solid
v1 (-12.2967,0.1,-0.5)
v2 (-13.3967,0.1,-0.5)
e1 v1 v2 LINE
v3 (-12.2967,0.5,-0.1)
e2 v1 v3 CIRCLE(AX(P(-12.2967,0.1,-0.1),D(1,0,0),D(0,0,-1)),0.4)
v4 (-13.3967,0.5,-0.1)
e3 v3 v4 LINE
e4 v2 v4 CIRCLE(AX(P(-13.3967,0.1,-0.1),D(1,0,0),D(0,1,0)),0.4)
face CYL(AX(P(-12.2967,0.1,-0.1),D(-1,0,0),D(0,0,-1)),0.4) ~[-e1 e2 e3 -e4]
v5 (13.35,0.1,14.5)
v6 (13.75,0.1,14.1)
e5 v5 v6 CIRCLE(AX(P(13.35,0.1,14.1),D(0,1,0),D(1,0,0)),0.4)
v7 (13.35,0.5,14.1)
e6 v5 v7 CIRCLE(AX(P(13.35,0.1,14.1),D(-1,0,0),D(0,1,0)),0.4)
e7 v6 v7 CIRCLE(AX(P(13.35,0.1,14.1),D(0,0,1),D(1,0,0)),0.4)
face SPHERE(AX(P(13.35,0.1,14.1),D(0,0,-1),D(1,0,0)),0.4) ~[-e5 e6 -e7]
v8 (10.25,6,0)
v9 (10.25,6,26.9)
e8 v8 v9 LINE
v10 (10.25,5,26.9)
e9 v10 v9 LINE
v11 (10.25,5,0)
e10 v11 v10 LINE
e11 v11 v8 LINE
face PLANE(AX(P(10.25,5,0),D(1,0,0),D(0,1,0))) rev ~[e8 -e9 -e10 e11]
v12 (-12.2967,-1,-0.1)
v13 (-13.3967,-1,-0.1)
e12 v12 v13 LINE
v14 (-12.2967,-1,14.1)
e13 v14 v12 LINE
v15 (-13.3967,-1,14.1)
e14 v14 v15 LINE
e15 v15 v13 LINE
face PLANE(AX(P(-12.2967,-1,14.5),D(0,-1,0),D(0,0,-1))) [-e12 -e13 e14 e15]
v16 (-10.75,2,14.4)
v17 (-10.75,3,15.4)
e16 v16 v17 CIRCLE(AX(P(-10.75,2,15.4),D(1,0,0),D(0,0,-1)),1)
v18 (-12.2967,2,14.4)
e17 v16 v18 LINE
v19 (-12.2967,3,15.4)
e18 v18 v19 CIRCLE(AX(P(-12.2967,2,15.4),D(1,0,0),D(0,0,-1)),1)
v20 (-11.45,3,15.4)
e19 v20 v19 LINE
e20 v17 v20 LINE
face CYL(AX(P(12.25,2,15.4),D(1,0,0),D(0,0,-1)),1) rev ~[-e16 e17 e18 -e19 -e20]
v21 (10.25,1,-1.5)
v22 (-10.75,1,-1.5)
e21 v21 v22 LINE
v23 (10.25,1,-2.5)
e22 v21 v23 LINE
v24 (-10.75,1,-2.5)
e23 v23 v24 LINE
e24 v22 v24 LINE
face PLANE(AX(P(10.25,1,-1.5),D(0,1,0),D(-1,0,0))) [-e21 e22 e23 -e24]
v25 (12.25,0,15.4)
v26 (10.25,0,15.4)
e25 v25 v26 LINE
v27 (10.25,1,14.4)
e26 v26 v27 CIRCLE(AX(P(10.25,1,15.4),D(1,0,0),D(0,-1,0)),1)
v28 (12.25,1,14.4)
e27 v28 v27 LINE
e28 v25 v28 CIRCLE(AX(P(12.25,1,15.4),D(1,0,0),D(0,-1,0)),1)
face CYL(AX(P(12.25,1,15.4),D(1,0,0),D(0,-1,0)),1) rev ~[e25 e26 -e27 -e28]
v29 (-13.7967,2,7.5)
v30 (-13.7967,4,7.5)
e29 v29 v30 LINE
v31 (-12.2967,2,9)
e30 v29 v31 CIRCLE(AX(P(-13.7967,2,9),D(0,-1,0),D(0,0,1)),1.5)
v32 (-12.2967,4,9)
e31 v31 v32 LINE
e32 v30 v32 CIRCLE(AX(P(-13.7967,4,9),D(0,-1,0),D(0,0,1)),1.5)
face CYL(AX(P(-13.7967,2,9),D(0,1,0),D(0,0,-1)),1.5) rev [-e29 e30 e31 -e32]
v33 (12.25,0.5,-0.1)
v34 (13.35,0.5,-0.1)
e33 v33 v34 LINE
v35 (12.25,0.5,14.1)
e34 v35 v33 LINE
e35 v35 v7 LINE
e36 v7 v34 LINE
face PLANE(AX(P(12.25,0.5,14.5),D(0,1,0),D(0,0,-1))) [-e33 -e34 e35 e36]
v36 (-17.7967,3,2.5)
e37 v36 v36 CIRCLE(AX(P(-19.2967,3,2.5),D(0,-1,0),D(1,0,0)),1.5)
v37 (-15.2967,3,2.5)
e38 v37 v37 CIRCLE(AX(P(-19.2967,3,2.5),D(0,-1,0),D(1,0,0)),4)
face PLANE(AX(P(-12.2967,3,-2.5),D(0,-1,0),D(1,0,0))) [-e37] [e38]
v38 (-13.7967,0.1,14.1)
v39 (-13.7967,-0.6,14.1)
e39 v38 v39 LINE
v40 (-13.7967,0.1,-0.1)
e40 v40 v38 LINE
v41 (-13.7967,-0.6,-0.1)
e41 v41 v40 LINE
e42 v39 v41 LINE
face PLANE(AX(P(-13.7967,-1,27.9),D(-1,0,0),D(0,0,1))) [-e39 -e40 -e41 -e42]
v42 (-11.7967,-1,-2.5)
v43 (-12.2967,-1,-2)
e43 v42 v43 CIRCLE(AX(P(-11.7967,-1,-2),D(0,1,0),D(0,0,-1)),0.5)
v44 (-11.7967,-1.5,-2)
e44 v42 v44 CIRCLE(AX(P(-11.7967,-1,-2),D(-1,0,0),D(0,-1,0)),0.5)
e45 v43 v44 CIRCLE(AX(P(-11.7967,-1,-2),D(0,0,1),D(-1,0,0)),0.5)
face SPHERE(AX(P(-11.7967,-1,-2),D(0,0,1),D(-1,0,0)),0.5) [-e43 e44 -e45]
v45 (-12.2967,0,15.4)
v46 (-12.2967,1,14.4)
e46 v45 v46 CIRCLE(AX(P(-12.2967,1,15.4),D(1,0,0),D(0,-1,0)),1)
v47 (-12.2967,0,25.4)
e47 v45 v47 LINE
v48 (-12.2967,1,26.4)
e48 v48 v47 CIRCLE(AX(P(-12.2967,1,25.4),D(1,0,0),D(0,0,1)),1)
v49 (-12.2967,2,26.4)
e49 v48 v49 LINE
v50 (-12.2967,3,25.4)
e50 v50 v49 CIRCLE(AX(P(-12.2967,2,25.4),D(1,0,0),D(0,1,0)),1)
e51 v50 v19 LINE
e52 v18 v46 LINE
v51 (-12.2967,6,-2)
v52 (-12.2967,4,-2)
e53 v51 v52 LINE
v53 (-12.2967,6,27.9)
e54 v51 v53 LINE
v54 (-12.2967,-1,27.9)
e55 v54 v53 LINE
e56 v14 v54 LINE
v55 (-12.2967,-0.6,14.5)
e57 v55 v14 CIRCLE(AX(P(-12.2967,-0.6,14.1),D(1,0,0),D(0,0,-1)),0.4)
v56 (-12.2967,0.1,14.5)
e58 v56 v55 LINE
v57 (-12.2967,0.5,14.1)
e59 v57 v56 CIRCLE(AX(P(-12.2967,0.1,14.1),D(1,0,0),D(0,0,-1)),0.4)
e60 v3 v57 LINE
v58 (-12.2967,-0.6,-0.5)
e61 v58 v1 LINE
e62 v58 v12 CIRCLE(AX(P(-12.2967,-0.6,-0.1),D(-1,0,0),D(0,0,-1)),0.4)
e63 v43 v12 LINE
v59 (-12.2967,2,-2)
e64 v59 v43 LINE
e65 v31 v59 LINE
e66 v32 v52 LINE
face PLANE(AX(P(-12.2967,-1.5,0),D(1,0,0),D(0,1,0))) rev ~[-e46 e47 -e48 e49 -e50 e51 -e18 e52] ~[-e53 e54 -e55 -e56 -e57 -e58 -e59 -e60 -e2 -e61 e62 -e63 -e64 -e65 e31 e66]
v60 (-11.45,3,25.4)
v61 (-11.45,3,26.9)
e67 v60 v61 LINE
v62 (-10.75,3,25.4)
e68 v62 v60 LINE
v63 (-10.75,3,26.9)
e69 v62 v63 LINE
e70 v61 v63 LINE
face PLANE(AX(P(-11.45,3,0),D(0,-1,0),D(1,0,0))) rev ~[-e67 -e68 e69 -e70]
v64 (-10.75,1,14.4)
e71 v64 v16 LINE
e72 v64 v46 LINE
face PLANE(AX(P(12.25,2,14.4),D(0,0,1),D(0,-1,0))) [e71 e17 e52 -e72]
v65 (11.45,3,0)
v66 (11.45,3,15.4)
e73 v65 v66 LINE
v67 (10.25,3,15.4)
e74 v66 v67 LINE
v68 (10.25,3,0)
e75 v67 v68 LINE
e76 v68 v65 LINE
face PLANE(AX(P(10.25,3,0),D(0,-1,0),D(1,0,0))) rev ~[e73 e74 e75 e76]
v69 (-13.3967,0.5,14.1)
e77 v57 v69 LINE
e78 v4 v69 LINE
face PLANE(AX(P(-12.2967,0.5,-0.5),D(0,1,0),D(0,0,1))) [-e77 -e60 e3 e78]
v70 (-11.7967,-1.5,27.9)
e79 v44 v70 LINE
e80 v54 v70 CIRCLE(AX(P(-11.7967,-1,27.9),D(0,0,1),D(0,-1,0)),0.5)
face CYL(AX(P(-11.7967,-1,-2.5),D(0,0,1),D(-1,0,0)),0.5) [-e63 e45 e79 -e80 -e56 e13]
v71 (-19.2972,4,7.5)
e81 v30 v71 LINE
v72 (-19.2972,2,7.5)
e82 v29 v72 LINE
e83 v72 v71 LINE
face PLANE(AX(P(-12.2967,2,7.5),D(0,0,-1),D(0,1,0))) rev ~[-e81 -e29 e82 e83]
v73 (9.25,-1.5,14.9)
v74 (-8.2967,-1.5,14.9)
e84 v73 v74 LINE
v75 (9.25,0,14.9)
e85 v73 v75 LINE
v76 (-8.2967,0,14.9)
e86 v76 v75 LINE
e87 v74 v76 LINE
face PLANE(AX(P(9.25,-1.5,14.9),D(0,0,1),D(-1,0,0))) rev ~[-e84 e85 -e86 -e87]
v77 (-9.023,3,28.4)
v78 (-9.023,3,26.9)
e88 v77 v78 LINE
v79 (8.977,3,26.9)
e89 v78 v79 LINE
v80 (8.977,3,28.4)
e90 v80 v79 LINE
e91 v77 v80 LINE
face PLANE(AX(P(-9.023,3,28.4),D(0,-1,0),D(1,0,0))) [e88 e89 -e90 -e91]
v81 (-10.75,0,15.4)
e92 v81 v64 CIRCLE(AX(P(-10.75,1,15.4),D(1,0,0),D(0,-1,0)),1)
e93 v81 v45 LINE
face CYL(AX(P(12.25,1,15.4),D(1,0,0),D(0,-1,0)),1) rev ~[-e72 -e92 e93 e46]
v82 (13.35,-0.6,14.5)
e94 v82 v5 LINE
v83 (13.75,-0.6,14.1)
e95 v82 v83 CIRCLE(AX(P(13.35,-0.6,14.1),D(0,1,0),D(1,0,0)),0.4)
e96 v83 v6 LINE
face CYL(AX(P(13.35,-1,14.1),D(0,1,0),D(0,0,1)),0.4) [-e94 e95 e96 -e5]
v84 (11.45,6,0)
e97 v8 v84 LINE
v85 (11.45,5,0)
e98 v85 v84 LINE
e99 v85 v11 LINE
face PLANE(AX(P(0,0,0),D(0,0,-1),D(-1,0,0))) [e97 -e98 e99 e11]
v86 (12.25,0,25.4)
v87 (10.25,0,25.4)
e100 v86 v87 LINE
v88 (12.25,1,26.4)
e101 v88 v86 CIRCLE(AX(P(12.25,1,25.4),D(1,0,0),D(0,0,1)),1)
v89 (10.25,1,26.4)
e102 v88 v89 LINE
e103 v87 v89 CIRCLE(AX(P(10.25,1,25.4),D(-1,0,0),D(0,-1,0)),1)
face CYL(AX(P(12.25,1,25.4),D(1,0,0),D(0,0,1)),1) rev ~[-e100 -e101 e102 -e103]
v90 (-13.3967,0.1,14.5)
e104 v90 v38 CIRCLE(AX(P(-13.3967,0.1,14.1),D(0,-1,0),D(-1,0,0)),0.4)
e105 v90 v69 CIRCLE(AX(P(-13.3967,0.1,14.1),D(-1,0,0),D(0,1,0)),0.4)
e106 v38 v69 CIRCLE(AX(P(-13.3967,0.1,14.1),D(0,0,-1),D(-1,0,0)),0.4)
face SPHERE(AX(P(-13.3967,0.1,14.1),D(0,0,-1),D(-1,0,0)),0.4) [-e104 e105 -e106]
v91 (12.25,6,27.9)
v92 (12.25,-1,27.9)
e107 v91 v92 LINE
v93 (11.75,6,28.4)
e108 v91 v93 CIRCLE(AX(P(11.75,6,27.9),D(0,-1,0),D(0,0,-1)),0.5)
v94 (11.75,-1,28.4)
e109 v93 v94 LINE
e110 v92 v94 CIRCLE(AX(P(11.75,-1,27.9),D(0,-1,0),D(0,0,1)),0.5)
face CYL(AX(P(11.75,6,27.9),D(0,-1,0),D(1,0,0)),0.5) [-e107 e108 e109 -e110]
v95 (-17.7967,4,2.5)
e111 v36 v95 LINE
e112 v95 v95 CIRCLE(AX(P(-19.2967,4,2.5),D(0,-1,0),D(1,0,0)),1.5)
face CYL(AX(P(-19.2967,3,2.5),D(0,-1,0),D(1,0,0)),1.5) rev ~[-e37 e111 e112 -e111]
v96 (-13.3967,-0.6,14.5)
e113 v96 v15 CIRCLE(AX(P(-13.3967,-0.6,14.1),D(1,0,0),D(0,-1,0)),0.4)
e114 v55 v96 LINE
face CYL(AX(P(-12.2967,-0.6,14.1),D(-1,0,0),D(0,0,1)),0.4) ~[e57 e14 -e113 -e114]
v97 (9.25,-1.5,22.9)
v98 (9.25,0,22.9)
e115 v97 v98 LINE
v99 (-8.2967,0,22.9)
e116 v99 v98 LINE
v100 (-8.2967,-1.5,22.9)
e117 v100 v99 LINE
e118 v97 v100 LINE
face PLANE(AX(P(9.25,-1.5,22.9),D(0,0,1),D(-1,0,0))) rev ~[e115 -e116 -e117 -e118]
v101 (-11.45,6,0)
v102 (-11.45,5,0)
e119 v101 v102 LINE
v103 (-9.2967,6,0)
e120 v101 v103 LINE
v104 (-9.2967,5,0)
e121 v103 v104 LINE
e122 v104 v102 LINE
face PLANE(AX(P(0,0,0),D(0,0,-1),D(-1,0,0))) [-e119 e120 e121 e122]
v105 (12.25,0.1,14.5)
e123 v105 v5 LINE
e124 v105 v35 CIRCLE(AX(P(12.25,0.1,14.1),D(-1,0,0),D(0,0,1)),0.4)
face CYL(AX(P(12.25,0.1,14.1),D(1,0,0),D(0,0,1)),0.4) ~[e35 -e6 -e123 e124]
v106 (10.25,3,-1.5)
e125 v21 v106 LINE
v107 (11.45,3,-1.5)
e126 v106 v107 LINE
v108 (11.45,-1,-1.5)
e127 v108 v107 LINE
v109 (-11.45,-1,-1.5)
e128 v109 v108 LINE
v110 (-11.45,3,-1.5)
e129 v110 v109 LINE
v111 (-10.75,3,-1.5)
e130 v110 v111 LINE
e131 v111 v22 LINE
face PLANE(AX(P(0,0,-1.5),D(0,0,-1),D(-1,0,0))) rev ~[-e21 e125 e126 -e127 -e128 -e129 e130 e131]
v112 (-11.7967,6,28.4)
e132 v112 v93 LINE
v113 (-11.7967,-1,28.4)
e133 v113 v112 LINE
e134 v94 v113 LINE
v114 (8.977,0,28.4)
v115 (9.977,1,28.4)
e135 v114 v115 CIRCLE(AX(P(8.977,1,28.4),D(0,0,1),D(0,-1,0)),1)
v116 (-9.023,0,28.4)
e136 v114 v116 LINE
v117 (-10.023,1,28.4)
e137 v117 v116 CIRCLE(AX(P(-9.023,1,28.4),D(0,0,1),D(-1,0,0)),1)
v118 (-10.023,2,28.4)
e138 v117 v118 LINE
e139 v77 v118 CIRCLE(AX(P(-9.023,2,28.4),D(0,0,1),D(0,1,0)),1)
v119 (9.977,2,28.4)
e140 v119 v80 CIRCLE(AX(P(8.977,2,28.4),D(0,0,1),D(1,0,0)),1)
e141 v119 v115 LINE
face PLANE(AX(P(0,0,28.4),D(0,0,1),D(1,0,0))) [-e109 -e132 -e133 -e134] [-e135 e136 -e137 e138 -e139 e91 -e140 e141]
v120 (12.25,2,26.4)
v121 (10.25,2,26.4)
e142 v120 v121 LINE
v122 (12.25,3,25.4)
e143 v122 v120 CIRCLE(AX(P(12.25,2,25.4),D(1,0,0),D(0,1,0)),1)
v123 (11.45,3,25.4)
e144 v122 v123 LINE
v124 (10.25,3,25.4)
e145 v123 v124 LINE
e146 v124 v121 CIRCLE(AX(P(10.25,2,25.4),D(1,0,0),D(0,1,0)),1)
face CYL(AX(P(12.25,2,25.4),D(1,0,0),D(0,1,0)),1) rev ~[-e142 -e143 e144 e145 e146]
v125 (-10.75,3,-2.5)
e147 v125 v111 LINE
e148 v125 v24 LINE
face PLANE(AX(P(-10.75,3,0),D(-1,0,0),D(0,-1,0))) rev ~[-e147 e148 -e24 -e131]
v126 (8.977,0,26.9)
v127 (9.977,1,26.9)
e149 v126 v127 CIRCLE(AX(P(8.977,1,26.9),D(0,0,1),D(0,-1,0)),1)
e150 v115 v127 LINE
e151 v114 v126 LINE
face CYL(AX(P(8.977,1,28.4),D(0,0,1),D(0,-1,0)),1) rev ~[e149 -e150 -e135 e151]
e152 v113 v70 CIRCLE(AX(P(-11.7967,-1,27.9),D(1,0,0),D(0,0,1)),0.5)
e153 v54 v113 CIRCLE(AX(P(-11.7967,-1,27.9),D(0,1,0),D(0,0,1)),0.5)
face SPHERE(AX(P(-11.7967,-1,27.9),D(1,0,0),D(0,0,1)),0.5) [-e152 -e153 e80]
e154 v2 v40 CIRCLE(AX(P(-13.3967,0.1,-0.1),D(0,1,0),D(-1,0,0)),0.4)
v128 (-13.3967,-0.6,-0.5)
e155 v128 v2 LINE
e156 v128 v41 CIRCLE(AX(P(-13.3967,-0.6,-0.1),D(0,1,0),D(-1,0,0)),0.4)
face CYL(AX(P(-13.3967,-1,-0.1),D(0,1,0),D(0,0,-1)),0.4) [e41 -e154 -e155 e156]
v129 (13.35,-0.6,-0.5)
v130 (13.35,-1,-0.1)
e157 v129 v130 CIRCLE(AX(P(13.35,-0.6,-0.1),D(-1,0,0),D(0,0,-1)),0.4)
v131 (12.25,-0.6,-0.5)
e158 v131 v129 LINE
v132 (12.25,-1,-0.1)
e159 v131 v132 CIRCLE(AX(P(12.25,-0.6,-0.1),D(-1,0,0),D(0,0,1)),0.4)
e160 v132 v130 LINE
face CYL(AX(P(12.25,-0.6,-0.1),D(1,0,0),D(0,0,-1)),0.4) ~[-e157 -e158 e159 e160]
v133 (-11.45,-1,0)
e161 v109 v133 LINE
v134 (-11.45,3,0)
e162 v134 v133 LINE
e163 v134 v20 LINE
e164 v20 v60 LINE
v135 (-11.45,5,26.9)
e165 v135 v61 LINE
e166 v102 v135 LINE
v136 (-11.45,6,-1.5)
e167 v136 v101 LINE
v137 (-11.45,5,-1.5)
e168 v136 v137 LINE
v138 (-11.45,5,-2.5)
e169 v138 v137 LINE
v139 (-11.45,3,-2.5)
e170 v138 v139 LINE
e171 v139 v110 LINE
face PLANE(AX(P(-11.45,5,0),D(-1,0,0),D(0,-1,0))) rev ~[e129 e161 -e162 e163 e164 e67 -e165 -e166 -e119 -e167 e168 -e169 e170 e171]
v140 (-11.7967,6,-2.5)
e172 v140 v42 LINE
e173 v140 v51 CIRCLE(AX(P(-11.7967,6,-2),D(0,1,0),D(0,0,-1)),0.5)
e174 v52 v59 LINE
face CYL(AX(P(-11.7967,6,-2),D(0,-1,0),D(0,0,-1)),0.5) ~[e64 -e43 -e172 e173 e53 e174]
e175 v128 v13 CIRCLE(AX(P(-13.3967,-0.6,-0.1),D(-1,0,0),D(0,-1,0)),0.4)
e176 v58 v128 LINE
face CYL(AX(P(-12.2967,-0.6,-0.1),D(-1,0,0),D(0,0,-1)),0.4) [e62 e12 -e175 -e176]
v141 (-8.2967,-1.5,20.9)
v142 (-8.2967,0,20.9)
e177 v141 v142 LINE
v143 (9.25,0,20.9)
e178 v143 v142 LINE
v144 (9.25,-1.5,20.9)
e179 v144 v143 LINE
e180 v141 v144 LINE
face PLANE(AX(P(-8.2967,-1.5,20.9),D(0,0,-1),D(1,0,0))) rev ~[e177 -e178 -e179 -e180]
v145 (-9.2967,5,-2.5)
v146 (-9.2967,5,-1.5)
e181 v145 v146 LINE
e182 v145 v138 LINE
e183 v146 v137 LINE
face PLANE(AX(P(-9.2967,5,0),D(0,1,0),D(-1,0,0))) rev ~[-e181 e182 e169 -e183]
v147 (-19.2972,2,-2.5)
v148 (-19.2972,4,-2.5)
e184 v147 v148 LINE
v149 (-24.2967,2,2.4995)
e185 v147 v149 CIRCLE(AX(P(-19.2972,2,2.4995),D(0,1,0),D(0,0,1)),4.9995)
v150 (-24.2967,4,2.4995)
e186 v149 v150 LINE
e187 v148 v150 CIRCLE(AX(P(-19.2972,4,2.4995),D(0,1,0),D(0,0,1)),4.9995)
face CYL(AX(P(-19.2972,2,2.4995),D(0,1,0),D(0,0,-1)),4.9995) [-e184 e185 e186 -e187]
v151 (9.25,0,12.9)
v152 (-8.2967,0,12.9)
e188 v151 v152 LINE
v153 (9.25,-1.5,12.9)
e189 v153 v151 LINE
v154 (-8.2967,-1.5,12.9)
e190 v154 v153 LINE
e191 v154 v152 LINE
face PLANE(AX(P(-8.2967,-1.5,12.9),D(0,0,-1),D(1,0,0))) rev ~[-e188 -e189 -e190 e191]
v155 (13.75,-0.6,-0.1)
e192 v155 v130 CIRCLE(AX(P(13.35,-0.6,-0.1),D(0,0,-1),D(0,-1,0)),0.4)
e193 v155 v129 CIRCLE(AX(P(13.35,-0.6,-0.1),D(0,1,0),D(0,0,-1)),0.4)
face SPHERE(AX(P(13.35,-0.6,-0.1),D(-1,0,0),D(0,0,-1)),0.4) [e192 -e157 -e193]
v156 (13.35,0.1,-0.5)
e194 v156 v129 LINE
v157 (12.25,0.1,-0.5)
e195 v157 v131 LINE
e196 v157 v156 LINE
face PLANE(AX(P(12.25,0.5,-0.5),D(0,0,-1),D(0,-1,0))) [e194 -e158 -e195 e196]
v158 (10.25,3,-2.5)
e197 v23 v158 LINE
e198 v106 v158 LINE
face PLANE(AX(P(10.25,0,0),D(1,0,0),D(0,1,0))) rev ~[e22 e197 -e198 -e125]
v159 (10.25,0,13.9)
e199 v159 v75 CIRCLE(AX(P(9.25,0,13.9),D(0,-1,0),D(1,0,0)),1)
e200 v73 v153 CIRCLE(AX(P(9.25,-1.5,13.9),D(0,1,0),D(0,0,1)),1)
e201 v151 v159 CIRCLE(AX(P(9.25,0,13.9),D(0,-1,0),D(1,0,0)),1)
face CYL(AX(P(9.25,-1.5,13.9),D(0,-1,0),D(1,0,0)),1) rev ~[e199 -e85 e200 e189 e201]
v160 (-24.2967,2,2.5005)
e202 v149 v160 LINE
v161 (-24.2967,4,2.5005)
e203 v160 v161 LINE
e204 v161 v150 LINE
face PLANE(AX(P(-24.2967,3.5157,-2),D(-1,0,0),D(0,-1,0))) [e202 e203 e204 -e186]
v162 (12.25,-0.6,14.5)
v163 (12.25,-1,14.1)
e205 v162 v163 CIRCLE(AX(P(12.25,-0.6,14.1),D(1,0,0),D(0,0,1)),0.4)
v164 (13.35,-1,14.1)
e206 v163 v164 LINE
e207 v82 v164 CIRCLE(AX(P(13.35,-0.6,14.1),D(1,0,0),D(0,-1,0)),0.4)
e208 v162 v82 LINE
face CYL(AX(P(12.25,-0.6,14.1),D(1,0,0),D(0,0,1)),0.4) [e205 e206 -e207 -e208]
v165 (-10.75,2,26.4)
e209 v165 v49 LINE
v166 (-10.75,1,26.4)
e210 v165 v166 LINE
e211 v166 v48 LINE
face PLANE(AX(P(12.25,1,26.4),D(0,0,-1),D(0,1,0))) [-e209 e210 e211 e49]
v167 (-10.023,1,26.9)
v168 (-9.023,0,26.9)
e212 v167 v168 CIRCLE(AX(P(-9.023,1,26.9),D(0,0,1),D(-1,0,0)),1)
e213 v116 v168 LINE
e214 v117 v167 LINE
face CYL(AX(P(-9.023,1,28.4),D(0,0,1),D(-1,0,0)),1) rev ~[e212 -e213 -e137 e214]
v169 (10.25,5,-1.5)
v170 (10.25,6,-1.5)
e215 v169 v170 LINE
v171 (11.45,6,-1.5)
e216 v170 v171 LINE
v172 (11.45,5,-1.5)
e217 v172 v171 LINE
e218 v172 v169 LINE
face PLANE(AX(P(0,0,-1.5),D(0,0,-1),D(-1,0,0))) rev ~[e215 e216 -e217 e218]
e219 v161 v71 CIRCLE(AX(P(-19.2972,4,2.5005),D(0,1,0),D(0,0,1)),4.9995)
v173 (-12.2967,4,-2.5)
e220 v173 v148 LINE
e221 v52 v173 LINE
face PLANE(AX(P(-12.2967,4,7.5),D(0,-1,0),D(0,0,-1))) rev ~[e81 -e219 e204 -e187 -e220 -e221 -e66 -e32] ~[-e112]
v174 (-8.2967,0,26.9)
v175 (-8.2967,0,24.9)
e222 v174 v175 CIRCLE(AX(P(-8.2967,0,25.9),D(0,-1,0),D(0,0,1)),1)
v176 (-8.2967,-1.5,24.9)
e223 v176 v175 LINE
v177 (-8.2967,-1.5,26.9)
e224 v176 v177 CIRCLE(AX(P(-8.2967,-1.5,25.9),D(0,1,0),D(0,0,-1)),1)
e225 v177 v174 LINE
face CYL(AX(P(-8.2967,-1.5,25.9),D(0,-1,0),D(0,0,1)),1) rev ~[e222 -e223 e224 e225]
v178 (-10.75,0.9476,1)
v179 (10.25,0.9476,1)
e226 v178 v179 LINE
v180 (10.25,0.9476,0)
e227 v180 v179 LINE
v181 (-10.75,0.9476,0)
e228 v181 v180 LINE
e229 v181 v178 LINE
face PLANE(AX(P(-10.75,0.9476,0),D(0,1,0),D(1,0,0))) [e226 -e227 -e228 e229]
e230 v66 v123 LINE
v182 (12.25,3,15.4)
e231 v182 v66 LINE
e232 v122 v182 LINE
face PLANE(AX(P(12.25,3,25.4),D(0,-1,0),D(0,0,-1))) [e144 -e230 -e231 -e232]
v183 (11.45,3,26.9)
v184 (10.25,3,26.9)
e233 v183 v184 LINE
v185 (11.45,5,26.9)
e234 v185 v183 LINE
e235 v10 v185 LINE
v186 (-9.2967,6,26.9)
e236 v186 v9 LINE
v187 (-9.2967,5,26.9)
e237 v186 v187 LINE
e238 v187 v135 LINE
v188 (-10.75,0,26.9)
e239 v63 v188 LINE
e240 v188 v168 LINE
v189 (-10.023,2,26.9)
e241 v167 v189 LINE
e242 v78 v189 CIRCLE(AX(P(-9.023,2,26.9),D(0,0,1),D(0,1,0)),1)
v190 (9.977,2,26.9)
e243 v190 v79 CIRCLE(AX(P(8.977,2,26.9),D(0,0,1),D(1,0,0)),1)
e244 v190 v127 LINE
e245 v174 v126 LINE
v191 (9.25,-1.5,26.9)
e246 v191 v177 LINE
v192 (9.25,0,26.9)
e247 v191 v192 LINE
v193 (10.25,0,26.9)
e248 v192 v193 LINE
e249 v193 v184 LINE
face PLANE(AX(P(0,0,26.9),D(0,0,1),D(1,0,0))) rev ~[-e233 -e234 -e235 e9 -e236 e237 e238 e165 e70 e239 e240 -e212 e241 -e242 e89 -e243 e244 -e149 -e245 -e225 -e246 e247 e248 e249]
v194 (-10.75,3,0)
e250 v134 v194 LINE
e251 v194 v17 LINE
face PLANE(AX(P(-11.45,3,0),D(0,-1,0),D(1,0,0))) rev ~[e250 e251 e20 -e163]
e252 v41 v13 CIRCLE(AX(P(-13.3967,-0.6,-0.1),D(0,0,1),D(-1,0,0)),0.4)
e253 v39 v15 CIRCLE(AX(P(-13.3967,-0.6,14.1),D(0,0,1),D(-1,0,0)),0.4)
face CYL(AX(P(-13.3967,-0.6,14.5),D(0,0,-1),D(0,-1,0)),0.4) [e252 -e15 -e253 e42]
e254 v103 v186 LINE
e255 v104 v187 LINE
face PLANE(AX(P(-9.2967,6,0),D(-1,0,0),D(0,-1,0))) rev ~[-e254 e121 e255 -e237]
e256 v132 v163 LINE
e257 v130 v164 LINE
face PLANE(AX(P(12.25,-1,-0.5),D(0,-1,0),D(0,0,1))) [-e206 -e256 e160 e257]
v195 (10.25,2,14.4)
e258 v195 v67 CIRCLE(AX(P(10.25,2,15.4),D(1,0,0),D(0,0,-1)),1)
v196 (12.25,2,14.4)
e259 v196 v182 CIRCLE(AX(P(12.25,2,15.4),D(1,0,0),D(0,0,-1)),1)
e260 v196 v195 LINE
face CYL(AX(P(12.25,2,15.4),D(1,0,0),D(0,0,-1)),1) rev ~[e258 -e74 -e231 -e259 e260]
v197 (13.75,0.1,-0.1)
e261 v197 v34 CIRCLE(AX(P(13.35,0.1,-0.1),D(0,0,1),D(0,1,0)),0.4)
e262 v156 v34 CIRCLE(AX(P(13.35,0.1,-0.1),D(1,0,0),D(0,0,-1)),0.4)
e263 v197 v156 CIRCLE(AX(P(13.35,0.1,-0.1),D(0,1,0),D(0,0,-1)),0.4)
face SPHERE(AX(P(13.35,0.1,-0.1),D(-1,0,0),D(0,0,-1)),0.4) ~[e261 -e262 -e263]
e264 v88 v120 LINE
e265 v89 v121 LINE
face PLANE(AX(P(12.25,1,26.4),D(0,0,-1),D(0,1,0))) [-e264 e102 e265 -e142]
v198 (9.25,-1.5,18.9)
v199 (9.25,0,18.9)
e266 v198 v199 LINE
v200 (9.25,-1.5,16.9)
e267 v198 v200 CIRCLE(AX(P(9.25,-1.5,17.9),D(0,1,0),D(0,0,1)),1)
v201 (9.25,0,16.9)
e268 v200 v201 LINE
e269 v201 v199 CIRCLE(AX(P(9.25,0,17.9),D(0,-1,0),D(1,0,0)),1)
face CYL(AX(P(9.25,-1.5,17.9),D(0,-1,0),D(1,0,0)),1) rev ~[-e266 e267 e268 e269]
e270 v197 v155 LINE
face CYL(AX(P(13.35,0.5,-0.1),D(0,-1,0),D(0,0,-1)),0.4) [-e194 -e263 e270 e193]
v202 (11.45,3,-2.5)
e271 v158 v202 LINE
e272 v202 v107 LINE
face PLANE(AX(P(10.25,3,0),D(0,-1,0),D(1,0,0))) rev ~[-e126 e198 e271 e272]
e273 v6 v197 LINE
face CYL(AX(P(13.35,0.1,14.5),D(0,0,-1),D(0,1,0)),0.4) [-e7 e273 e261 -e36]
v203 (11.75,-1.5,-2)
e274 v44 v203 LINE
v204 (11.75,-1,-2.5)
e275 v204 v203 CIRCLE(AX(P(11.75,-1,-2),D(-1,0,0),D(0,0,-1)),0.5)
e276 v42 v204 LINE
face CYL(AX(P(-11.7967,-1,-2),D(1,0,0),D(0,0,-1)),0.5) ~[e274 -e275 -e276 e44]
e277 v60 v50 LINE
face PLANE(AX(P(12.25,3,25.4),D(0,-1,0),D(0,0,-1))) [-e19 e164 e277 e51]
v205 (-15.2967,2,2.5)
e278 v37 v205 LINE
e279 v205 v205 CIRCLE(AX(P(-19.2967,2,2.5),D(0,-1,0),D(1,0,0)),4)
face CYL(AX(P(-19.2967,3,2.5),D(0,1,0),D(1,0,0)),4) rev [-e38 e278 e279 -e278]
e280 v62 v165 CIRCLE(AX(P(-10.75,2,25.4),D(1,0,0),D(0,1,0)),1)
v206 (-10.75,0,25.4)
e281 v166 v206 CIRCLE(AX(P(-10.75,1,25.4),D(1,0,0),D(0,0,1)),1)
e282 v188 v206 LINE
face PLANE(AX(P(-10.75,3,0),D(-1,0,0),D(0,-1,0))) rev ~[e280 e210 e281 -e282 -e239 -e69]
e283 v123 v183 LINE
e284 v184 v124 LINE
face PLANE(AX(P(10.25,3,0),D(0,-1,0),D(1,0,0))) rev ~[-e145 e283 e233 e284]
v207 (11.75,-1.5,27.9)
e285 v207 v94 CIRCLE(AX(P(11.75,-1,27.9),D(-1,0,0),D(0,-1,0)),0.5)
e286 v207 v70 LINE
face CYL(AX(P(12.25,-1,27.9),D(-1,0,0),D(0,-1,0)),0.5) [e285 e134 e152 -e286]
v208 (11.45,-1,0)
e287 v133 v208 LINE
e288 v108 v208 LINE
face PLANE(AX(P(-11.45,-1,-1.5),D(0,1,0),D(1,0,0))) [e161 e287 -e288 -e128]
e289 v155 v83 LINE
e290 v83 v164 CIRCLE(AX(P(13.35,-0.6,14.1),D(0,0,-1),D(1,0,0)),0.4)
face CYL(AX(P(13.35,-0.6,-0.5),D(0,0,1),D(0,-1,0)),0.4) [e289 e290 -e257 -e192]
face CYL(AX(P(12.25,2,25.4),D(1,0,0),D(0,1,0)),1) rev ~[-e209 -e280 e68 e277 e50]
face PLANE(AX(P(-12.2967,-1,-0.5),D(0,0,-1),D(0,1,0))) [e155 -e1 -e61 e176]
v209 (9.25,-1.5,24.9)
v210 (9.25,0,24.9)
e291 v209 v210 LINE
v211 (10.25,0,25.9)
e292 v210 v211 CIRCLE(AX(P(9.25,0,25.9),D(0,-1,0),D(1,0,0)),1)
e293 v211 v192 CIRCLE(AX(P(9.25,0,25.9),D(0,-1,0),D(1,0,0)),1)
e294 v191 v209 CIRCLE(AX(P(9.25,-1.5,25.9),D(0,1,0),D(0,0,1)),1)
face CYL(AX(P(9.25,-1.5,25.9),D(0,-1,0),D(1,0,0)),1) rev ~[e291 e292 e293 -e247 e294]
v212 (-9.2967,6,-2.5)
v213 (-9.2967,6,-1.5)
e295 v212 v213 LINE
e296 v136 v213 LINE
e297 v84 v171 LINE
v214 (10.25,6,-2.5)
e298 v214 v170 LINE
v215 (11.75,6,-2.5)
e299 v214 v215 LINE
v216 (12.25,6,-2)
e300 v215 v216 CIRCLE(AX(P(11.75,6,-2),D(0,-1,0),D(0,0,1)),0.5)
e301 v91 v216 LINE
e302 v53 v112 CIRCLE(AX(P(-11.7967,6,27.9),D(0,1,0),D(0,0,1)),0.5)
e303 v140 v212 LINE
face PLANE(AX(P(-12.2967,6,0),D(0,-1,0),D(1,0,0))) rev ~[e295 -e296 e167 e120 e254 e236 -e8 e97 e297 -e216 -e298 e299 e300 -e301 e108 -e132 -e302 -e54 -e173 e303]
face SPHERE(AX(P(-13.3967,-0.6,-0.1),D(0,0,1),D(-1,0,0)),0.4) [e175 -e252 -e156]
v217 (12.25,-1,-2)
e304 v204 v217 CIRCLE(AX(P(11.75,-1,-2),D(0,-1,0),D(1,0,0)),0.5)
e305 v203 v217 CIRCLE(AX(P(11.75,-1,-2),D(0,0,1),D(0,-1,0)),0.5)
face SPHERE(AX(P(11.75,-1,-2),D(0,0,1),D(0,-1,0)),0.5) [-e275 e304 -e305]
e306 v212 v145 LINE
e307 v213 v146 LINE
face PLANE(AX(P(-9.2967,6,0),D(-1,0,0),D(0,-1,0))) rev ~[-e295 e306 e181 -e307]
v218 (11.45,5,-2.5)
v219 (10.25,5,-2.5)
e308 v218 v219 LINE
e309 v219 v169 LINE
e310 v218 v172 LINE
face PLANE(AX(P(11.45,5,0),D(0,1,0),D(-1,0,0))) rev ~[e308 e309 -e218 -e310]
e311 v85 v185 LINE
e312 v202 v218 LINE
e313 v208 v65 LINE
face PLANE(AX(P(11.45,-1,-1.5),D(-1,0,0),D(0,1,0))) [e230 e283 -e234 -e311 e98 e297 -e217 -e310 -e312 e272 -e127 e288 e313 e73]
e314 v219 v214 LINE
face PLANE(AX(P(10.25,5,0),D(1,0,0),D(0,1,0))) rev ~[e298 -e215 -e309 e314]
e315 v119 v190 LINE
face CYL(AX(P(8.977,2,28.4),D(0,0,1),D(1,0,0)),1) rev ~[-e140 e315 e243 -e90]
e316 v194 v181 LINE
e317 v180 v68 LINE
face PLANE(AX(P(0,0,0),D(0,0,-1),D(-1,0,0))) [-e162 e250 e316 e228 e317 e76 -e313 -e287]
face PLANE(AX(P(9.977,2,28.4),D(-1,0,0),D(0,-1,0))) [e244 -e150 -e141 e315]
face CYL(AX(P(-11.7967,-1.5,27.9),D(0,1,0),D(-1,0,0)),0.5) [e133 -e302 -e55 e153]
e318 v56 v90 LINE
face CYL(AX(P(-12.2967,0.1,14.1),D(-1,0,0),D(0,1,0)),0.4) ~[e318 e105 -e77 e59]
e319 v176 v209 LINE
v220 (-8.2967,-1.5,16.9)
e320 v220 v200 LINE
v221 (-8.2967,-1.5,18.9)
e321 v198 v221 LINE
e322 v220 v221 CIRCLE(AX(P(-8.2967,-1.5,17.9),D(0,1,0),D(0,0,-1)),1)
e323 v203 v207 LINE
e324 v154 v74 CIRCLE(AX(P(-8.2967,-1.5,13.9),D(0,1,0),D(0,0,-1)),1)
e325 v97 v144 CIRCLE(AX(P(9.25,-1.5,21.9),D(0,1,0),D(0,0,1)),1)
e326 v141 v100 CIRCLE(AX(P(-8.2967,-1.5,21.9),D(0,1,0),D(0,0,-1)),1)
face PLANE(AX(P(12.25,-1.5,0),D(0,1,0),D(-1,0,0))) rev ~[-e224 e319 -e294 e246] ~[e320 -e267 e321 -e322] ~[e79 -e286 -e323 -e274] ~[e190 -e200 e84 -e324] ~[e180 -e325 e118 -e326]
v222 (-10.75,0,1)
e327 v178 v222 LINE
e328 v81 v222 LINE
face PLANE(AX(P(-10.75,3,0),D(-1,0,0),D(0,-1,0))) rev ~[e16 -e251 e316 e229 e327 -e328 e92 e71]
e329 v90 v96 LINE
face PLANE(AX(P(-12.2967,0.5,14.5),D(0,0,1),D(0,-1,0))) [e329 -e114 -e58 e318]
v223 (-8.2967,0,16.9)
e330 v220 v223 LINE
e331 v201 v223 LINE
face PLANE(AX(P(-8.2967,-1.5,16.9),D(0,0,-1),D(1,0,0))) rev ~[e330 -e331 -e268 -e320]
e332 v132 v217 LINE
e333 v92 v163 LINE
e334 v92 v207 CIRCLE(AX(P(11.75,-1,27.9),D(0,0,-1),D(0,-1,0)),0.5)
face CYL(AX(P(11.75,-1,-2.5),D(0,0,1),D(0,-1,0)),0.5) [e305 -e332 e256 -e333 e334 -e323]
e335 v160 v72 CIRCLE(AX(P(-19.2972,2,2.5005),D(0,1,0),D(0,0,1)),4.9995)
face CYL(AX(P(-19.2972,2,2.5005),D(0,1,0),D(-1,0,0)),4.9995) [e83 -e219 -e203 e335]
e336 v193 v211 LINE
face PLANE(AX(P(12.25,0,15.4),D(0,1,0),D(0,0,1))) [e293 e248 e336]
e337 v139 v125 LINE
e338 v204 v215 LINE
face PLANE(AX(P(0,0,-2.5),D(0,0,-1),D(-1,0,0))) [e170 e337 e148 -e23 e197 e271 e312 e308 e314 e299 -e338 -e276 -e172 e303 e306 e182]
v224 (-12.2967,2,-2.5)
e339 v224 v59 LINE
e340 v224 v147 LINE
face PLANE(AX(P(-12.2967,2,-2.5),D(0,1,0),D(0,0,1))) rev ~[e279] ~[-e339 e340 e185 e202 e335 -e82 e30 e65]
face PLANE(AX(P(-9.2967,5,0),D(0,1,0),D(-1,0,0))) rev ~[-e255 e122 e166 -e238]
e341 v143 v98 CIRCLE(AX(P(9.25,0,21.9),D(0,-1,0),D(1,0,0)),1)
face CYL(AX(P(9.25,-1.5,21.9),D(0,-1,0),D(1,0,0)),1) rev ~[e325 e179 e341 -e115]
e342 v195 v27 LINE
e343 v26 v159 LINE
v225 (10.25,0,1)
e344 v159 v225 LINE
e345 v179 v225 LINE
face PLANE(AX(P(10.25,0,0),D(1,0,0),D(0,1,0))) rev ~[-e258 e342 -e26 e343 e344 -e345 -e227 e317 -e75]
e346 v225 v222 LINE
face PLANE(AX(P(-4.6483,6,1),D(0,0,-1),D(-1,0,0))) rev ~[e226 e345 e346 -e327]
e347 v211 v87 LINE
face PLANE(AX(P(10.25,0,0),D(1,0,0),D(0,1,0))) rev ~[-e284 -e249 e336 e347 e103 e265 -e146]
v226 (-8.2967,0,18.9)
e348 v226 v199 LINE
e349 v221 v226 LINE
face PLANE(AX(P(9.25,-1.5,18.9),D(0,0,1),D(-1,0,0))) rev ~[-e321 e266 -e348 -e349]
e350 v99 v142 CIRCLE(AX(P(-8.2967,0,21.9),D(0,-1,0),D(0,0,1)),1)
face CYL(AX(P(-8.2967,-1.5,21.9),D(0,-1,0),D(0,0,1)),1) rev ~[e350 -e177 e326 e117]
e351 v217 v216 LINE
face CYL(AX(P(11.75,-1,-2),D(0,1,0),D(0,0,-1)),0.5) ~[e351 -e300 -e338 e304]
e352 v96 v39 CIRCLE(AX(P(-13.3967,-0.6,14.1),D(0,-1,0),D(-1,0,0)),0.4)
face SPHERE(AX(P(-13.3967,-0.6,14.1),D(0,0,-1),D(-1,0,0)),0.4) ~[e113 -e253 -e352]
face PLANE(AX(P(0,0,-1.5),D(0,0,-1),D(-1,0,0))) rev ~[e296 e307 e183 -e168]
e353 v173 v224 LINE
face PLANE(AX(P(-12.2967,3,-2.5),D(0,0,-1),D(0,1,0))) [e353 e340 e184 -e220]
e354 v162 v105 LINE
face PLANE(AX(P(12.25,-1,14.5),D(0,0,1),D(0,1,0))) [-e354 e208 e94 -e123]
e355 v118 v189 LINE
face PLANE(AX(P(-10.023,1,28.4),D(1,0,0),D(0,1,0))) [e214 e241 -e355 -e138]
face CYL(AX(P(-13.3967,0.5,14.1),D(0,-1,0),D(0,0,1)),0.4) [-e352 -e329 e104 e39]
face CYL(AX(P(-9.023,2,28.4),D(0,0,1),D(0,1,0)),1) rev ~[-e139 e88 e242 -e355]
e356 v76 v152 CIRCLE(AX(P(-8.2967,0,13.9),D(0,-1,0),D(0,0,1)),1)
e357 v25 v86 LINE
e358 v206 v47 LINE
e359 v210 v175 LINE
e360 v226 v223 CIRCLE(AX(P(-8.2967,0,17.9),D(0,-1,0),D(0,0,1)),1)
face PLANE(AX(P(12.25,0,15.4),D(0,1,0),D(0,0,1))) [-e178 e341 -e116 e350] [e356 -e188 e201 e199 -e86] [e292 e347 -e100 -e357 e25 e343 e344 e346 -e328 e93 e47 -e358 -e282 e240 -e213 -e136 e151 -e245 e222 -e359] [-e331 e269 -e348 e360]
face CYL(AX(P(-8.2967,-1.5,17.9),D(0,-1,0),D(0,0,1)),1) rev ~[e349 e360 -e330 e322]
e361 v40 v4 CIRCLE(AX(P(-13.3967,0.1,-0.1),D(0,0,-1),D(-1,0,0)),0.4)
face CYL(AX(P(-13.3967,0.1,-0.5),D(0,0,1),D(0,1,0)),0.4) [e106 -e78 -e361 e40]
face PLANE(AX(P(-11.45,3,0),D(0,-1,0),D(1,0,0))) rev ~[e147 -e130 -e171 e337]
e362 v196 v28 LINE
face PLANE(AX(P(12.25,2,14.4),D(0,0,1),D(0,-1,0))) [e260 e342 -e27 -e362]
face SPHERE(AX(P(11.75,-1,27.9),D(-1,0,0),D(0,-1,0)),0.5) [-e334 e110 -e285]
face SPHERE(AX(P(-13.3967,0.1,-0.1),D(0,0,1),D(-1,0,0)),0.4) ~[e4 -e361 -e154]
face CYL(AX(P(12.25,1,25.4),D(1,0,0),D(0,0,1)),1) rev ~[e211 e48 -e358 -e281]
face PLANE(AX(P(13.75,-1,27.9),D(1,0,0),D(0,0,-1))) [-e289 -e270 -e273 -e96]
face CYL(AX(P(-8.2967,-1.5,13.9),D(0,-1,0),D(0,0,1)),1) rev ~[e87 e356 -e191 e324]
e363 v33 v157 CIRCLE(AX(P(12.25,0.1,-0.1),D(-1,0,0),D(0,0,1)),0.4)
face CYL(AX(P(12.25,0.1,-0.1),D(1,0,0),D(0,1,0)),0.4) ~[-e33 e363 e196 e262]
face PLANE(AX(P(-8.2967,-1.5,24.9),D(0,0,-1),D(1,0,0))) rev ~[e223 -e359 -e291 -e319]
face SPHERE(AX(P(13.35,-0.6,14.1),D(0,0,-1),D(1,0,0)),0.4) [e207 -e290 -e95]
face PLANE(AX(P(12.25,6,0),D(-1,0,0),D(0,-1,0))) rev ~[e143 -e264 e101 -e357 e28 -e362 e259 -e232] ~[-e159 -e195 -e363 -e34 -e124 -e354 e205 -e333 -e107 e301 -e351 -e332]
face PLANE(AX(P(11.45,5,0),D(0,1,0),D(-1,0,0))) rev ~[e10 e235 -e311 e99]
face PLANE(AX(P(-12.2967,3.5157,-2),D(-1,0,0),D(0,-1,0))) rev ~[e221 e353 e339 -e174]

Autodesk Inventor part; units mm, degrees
sketch "Schizzo1" plane through (0, 0, 0) normal (0, 0, 1) x (1, 0, 0)
  line L0 (-10.75, 0) -> (10.25, 0)
  line L1 (-9.2967, 5) -> (-11.45, 5)
  line L2 (-11.45, 5) -> (-11.45, 3)
  line L3 (-11.45, 3) -> (-10.75, 3)
  line L4 (10.25, 5) -> (11.45, 5)
  line L5 (11.45, 5) -> (11.45, 3)
  line L6 (11.45, 3) -> (10.25, 3)
  line L7 (-9.2967, 6) -> (-9.2967, 5)
  line L8 (-10.75, 3) -> (-10.75, 0)
  line L9 (10.25, 0) -> (10.25, 3)
  line L10 (10.25, 5) -> (10.25, 6)
  line L11 (-9.2967, 6) -> (-12.2967, 6)
  line L12 (-12.2967, 6) -> (-12.2967, -1.5)
  line L13 (-12.2967, -1.5) -> (12.25, -1.5)
  line L14 (12.25, -1.5) -> (12.25, 6)
  line L15 (12.25, 6) -> (10.25, 6)
  point P0 (0, 0)
  dimension "d0" = 21
  dimension "d3" = 22.9
  dimension "d4" = 11.45
  dimension "d5" = 3
  dimension "d6" = 0
  dimension "d7" = 3
  dimension "d8" = 2
  dimension "d9" = 2
  dimension "d12" = 1.5
  dimension "d13" = 2
  dimension "d14" = 3
  dimension "d17" = 1
  dimension "d18" = 1
  dimension "d112" = 2
extrude "Body" add sketch "Schizzo1" along normal blind 26.9
sketch "Schizzo2" plane through (0, 0, 26.9) normal (0, 0, 1) x (1, 0, 0)
  line L0 (-12.2967, 6) -> (12.25, 6)
  line L1 (12.25, 6) -> (12.25, -1.5)
  line L2 (12.25, -1.5) -> (-12.2967, -1.5)
  line L3 (-12.2967, -1.5) -> (-12.2967, 6)
  point P0 (0, 0)
extrude "Closure" add sketch "Schizzo2" along normal blind 1.5
sketch "Schizzo4" plane through (0, 0, 0) normal (0, 0, -1) x (-1, 0, 0)
  line L0 (10.75, 0) -> (-10.25, 0) projected
  line L1 (-10.25, 0) -> (-10.25, 3) projected
  line L2 (-10.25, 3) -> (-11.45, 3) projected
  line L3 (-11.45, 3) -> (-11.45, 5) projected
  line L4 (-11.45, 5) -> (-10.25, 5) projected
  line L5 (-10.25, 5) -> (-10.25, 6) projected
  line L6 (-10.25, 6) -> (-12.25, 6) projected
  line L7 (-12.25, 6) -> (-12.25, -1.5) projected
  line L8 (-12.25, -1.5) -> (12.2967, -1.5) projected
  line L9 (12.2967, -1.5) -> (12.2967, 6) projected
  line L10 (12.2967, 6) -> (9.2967, 6) projected
  line L11 (9.2967, 6) -> (9.2967, 5) projected
  line L12 (9.2967, 5) -> (11.45, 5) projected
  line L13 (11.45, 5) -> (11.45, 3) projected
  line L14 (11.45, 3) -> (10.75, 3) projected
  line L15 (10.75, 3) -> (10.75, 0) projected
  point P0 (0, 0)
extrude "Estrusione3" add sketch "Schizzo4" along normal blind 2.5
ref_plane "Piano di lavoro1" through (0, 0, -1.5) normal (0, 0, -1) x (-1, 0, 0)
sketch "Schizzo5" plane through (0, 0, -1.5) normal (0, 0, -1) x (-1, 0, 0)
  line L0 (-11.45, 6.5) -> (11.45, 6.5)
  line L1 (11.45, 6.5) -> (11.45, -1)
  line L2 (11.45, -1) -> (-11.45, -1)
  line L3 (-11.45, -1) -> (-11.45, 6.5)
  line L4 (12.2967, -1.5) -> (-12.25, -1.5) projected
  point P0 (0, 0)
  dimension "d25" = 22.9
  dimension "d27" = 11.45
  dimension "d28" = 0.5
  dimension "d31" = 8
extrude "Fente de passage fermeture" cut sketch "Schizzo5" against normal blind 1.5
sketch "Schizzo6" plane through (12.25, -1.5, 28.4) normal (1, 0, 0) x (0, 0, -1)
  line L0 (0, 0) -> (0, 7.5) projected
  line L1 (0, 0) -> (30.9, 0) projected
  line L2 (3, 4.5) -> (13, 4.5)
  line L3 (14, 3.5) -> (14, 2.5)
  line L4 (13, 1.5) -> (3, 1.5)
  line L5 (2, 2.5) -> (2, 3.5)
  arc A0 (14, 3.5) -> (13, 4.5) centre (13, 3.5) ccw
  arc A1 (13, 1.5) -> (14, 2.5) centre (13, 2.5) ccw
  arc A2 (2, 2.5) -> (3, 1.5) centre (3, 2.5) ccw
  arc A3 (3, 4.5) -> (2, 3.5) centre (3, 3.5) ccw
  point P0 (28.4, 1.5)
  point P1 (2, 4.5)
  point P2 (14, 1.5)
  point P3 (14, 4.5)
  point P4 (2, 1.5)
  dimension "d36" = 12
  dimension "d37" = 1.5
  dimension "d48" = 2
  dimension "d58" = 3
  dimension "d157" = 1
extrude "Short Air sampling" cut sketch "Schizzo6" against normal blind 30
fillet "Raccordo1" radius 0.5 5 edges at (-0.0233, -1.5, 28.4) (12.25, -1.5, 12.95) (12.25, 2.25, 28.4) (-12.2967, 2.25, 28.4) (-12.2967, -1.5, 12.95)
fillet "Raccordo2" radius 0.5 5 edges at (-12.1502, -1.3536, -2.5) (-12.2967, 2.5, -2.5) (12.1036, -1.3536, -2.5) (12.25, 2.5, -2.5) (-0.0233, -1.5, -2.5)
sketch "Sketch10" plane through (-12.2967, -1, 27.9) normal (-1, 0, 0) x (0, 0, 1)
  line L0 (-28.4, 1.5) -> (-13.4, 1.5)
  line L1 (-13.4, 1.5) -> (-13.4, 0)
  line L2 (-13.4, 0) -> (-28.4, 0)
  line L3 (-28.4, 0) -> (-28.4, 1.5)
  line L4 (-29.9, -0.5) -> (0, -0.5) projected
  line L5 (-30.4, 7) -> (-30.4, 0) projected
  line L6 (0.5, 0) -> (0.5, 7) projected
  point P0 (-27.9, 1)
  dimension "d82" = 15
  dimension "d83" = 1.5
  dimension "d84" = 0.5
  dimension "d113" = 13.9
sketch "Sketch11" plane through (0, 0, 28.4) normal (0, 0, 1) x (1, 0, 0)
  line L0 (8.977, 0) -> (-9.023, 0)
  line L1 (-10.023, 1) -> (-10.023, 2)
  line L2 (-9.023, 3) -> (8.977, 3)
  line L3 (9.977, 2) -> (9.977, 1)
  line L4 (12.25, -1) -> (12.25, 6) projected
  line L5 (-11.7967, -1.5) -> (11.75, -1.5) projected
  line L6 (-12.2967, 6) -> (-12.2967, -1) projected
  arc A0 (-10.023, 1) -> (-9.023, 0) centre (-9.023, 1) ccw
  arc A1 (-9.023, 3) -> (-10.023, 2) centre (-9.023, 2) ccw
  arc A2 (9.977, 2) -> (8.977, 3) centre (8.977, 2) ccw
  arc A3 (8.977, 0) -> (9.977, 1) centre (8.977, 1) ccw
  point P0 (0, 0)
  point P1 (9.977, 0)
  point P2 (-10.023, 3)
  point P3 (-10.023, 0)
  point P4 (9.977, 3)
  dimension "d85" = 20
  dimension "d86" = 3
  dimension "d87" = 2.273
  dimension "d88" = 1.5
  dimension "d156" = 1
extrude "Long Air Sampling" cut sketch "Sketch11" against normal blind 3
extrude "Handle 1" add sketch "Sketch10" along normal blind 1.5
sketch "Sketch12" plane through (12.25, -1, 27.9) normal (1, 0, 0) x (0, 0, -1)
  line L0 (28.4, 0) -> (13.4, 0)
  line L1 (13.4, 0) -> (13.4, 1.5)
  line L2 (13.4, 1.5) -> (28.4, 1.5)
  line L3 (28.4, 1.5) -> (28.4, 0)
  line L4 (0, -0.5) -> (29.9, -0.5) projected
  line L5 (30.4, 0) -> (30.4, 7) projected
  line L6 (-0.5, 7) -> (-0.5, 0) projected
  point P0 (27.9, 1)
  dimension "d102" = 15
  dimension "d103" = 1.5
  dimension "d104" = 0.5
  dimension "d114" = 13.9
extrude "Handle 2" add sketch "Sketch12" along normal blind 1.5
fillet "Fillet Handle 2" radius 0.4 8 edges at (13, 0.5, -0.5) (13, -1, -0.5) (13.75, -0.25, -0.5) (13.75, 0.5, 7) (13.75, -1, 7) (13.75, -0.25, 14.5) (13, 0.5, 14.5) (13, -1, 14.5)
fillet "Fillet Handle 1" radius 0.4 8 edges at (-13.7967, -1, 7) (-13.7967, 0.5, 7) (-13.7967, -0.25, -0.5) (-13.7967, -0.25, 14.5) (-13.0467, -1, 14.5) (-13.0467, 0.5, 14.5) (-13.0467, -1, -0.5) (-13.0467, 0.5, -0.5)
sketch "Sketch13" plane through (-11.7967, -1.5, 27.9) normal (0, -1, 0) x (1, 0, 0)
  line L0 (23.5467, 0) -> (23.5467, -29.9) construction
  line L1 (23.5467, -29.9) -> (0, -29.9) construction
  line L2 (0, -29.9) -> (0, 0) construction
  line L3 (0, 0) -> (23.5467, 0) construction
  line L4 (23.5467, -29.9) -> (0, -29.9) projected
  line L5 (0, 0) -> (0, -29.9) projected
  line L6 (0, 0) -> (23.5467, 0) projected
  line L7 (23.5467, 0) -> (23.5467, -29.9) projected
  point P0 (11.7967, -27.9)
emboss "Emboss1" [suppressed]
sketch "Sketch14" plane through (0, 0, -1.5) normal (0, 0, -1) x (-1, 0, 0)
  line L0 (-10.25, 0) -> (-10.25, 3) projected
  line L1 (-10.25, 1) -> (10.75, 1)
  line L2 (10.75, 1) -> (10.75, 0)
  line L3 (10.75, 0) -> (-10.25, 0)
  line L4 (-10.25, 0) -> (-10.25, 1)
  line L5 (-11.75, -1.5) -> (11.7967, -1.5) projected
  point P0 (0, 0)
  dimension "d115" = 1
  dimension "d124" = 2.5
extrude "Guidage fond ext" add sketch "Sketch14" along normal blind 1
ref_plane "Work Plane3" through (-4.6483, 6, 0) normal (0, 0, -1) x (-1, 0, 0)
sketch "Sketch15" plane through (-4.6483, 6, 0) normal (0, 0, -1) x (-1, 0, 0)
  line L0 (6.1017, -6) -> (6.1017, -3) projected
  line L1 (-14.8983, -6.0524) -> (6.1017, -6.0524)
  line L2 (6.1017, -6.0524) -> (6.1017, -5.0524)
  line L3 (6.1017, -5.0524) -> (-14.8983, -5.0524)
  line L4 (-14.8983, -5.0524) -> (-14.8983, -6.0524)
  line L5 (-16.3983, -7.5) -> (7.1483, -7.5) projected
  line L6 (-14.8983, -6) -> (6.1017, -6) projected
  point P0 (-4.6483, -6)
  point P1 (-14.8983, -5)
  dimension "d119" = 1
  dimension "d122" = 2.4476
  dimension "d123" = 0.0524
extrude "Guidage fond int." add sketch "Sketch15" against normal blind 1
ref_plane "Work Plane4" through (-12.2967, 3.5157, -2) normal (-1, 0, 0) x (0, -1, 0)
sketch "Sketch16" plane through (-12.2967, 3.5157, -2) normal (-1, 0, 0) x (0, -1, 0)
  line L0 (0.5157, -0.5) -> (-1.4843, -0.5) projected
  line L1 (-0.4843, -0.5) -> (1.5157, -0.5)
  line L2 (1.5157, -0.5) -> (1.5157, 9.5)
  line L3 (1.5157, 9.5) -> (-0.4843, 9.5)
  line L4 (-0.4843, 9.5) -> (-0.4843, -0.5)
  point P0 (3.5157, 2)
  dimension "d125" = 2
  dimension "d126" = 10
extrude "Bride de vissage" add sketch "Sketch16" along normal blind 12
fillet "Fillet6" radius 5 2 edges at (-24.2967, 3, -2.5) (-24.2967, 3, 7.5)
fillet "Fillet7" radius 1.5 1 edges at (-12.2967, 3, 7.5)
ref_plane "Work Plane5" through (-12.2967, 3, -2.5) normal (0, -1, 0) x (1, 0, 0)
sketch "Sketch22" plane through (-12.2967, 3, -2.5) normal (0, -1, 0) x (1, 0, 0)
  circle A0 centre (-7, 5) radius 4
  arc A1 (-7, 10) -> (-7, 0) centre (-7, 5) ccw projected
  point P0 (12.2967, 2.5)
  dimension "d136" = 8
  dimension "d142" = 0
extrude "Evasement vis de fixation" cut sketch "Sketch22" along normal blind 1
ref_plane "Work Plane8" through (-11.45, 3, -1.5) normal (0, -1, 0) x (1, 0, 0)
sketch "Sketch23" plane through (-11.45, 3, -1.5) normal (0, -1, 0) x (1, 0, 0)
  arc A0 (-7.8467, 9) -> (-7.8467, -1) centre (-7.8467, 4) ccw projected
  circle A1 centre (-7.8467, 4) radius 1.5
  point P0 (11.45, 1.5)
  dimension "d139" = 3
extrude "Alesage vis de fixation" cut sketch "Sketch23" against normal blind 1
sketch "Sketch24" plane through (-11.7967, -1.5, 27.9) normal (0, -1, 0) x (1, 0, 0)
  line L0 (2.5, -1) -> (2.5, -27.9) projected
  line L1 (21.0467, -1) -> (3.5, -1)
  line L2 (2.5, -2) -> (2.5, -2)
  line L3 (3.5, -3) -> (21.0467, -3)
  line L4 (22.0467, -2) -> (22.0467, -2)
  arc A0 (22.0467, -2) -> (21.0467, -1) centre (21.0467, -2) ccw
  arc A1 (21.0467, -3) -> (22.0467, -2) centre (21.0467, -2) ccw
  arc A2 (2.5, -2) -> (3.5, -3) centre (3.5, -2) ccw
  arc A3 (3.5, -1) -> (2.5, -2) centre (3.5, -2) ccw
  line L5 (21.0467, -5) -> (3.5, -5)
  line L6 (2.5, -6) -> (2.5, -6)
  line L7 (3.5, -7) -> (21.0467, -7)
  line L8 (22.0467, -6) -> (22.0467, -6)
  arc A4 (22.0467, -6) -> (21.0467, -5) centre (21.0467, -6) ccw
  arc A5 (21.0467, -7) -> (22.0467, -6) centre (21.0467, -6) ccw
  arc A6 (2.5, -6) -> (3.5, -7) centre (3.5, -6) ccw
  arc A7 (3.5, -5) -> (2.5, -6) centre (3.5, -6) ccw
  line L9 (21.0467, -9) -> (3.5, -9)
  line L10 (2.5, -10) -> (2.5, -10)
  line L11 (3.5, -11) -> (21.0467, -11)
  line L12 (22.0467, -10) -> (22.0467, -10)
  arc A8 (22.0467, -10) -> (21.0467, -9) centre (21.0467, -10) ccw
  arc A9 (21.0467, -11) -> (22.0467, -10) centre (21.0467, -10) ccw
  arc A10 (2.5, -10) -> (3.5, -11) centre (3.5, -10) ccw
  arc A11 (3.5, -9) -> (2.5, -10) centre (3.5, -10) ccw
  line L13 (21.0467, -13) -> (3.5, -13)
  line L14 (2.5, -14) -> (2.5, -14)
  line L15 (3.5, -15) -> (21.0467, -15)
  line L16 (22.0467, -14) -> (22.0467, -14)
  arc A12 (22.0467, -14) -> (21.0467, -13) centre (21.0467, -14) ccw
  arc A13 (21.0467, -15) -> (22.0467, -14) centre (21.0467, -14) ccw
  arc A14 (2.5, -14) -> (3.5, -15) centre (3.5, -14) ccw
  arc A15 (3.5, -13) -> (2.5, -14) centre (3.5, -14) ccw
  point P0 (11.7967, -27.9)
  point P1 (22.0467, -1)
  point P2 (2.5, -3)
  point P3 (2.5, -1)
  point P4 (22.0467, -5)
  point P5 (2.5, -7)
  point P6 (2.5, -5)
  point P7 (22.0467, -9)
  point P8 (2.5, -11)
  point P9 (2.5, -9)
  point P10 (22.0467, -13)
  point P11 (2.5, -15)
  point P12 (2.5, -13)
  dimension "d144" = 2
  dimension "d145" = 1
  dimension "d146" = 1
  dimension "d151" = 4
extrude "Extrusion16" cut sketch "Sketch24" against normal blind 2
equation "\"d4\" = 0.5 * d3"
equation "\"d5\" = d7"
equation "\"d9\" = d8"
equation "\"d18\" = d17"
equation "\"d27\" = 0.5 * d25"
equation "\"d2\" = 0.5 * d0"
equation "\"d35\" = d32"
equation "\"d32\" = 0.5"
properties part number "160729 T_TH_P_Box_R23"
